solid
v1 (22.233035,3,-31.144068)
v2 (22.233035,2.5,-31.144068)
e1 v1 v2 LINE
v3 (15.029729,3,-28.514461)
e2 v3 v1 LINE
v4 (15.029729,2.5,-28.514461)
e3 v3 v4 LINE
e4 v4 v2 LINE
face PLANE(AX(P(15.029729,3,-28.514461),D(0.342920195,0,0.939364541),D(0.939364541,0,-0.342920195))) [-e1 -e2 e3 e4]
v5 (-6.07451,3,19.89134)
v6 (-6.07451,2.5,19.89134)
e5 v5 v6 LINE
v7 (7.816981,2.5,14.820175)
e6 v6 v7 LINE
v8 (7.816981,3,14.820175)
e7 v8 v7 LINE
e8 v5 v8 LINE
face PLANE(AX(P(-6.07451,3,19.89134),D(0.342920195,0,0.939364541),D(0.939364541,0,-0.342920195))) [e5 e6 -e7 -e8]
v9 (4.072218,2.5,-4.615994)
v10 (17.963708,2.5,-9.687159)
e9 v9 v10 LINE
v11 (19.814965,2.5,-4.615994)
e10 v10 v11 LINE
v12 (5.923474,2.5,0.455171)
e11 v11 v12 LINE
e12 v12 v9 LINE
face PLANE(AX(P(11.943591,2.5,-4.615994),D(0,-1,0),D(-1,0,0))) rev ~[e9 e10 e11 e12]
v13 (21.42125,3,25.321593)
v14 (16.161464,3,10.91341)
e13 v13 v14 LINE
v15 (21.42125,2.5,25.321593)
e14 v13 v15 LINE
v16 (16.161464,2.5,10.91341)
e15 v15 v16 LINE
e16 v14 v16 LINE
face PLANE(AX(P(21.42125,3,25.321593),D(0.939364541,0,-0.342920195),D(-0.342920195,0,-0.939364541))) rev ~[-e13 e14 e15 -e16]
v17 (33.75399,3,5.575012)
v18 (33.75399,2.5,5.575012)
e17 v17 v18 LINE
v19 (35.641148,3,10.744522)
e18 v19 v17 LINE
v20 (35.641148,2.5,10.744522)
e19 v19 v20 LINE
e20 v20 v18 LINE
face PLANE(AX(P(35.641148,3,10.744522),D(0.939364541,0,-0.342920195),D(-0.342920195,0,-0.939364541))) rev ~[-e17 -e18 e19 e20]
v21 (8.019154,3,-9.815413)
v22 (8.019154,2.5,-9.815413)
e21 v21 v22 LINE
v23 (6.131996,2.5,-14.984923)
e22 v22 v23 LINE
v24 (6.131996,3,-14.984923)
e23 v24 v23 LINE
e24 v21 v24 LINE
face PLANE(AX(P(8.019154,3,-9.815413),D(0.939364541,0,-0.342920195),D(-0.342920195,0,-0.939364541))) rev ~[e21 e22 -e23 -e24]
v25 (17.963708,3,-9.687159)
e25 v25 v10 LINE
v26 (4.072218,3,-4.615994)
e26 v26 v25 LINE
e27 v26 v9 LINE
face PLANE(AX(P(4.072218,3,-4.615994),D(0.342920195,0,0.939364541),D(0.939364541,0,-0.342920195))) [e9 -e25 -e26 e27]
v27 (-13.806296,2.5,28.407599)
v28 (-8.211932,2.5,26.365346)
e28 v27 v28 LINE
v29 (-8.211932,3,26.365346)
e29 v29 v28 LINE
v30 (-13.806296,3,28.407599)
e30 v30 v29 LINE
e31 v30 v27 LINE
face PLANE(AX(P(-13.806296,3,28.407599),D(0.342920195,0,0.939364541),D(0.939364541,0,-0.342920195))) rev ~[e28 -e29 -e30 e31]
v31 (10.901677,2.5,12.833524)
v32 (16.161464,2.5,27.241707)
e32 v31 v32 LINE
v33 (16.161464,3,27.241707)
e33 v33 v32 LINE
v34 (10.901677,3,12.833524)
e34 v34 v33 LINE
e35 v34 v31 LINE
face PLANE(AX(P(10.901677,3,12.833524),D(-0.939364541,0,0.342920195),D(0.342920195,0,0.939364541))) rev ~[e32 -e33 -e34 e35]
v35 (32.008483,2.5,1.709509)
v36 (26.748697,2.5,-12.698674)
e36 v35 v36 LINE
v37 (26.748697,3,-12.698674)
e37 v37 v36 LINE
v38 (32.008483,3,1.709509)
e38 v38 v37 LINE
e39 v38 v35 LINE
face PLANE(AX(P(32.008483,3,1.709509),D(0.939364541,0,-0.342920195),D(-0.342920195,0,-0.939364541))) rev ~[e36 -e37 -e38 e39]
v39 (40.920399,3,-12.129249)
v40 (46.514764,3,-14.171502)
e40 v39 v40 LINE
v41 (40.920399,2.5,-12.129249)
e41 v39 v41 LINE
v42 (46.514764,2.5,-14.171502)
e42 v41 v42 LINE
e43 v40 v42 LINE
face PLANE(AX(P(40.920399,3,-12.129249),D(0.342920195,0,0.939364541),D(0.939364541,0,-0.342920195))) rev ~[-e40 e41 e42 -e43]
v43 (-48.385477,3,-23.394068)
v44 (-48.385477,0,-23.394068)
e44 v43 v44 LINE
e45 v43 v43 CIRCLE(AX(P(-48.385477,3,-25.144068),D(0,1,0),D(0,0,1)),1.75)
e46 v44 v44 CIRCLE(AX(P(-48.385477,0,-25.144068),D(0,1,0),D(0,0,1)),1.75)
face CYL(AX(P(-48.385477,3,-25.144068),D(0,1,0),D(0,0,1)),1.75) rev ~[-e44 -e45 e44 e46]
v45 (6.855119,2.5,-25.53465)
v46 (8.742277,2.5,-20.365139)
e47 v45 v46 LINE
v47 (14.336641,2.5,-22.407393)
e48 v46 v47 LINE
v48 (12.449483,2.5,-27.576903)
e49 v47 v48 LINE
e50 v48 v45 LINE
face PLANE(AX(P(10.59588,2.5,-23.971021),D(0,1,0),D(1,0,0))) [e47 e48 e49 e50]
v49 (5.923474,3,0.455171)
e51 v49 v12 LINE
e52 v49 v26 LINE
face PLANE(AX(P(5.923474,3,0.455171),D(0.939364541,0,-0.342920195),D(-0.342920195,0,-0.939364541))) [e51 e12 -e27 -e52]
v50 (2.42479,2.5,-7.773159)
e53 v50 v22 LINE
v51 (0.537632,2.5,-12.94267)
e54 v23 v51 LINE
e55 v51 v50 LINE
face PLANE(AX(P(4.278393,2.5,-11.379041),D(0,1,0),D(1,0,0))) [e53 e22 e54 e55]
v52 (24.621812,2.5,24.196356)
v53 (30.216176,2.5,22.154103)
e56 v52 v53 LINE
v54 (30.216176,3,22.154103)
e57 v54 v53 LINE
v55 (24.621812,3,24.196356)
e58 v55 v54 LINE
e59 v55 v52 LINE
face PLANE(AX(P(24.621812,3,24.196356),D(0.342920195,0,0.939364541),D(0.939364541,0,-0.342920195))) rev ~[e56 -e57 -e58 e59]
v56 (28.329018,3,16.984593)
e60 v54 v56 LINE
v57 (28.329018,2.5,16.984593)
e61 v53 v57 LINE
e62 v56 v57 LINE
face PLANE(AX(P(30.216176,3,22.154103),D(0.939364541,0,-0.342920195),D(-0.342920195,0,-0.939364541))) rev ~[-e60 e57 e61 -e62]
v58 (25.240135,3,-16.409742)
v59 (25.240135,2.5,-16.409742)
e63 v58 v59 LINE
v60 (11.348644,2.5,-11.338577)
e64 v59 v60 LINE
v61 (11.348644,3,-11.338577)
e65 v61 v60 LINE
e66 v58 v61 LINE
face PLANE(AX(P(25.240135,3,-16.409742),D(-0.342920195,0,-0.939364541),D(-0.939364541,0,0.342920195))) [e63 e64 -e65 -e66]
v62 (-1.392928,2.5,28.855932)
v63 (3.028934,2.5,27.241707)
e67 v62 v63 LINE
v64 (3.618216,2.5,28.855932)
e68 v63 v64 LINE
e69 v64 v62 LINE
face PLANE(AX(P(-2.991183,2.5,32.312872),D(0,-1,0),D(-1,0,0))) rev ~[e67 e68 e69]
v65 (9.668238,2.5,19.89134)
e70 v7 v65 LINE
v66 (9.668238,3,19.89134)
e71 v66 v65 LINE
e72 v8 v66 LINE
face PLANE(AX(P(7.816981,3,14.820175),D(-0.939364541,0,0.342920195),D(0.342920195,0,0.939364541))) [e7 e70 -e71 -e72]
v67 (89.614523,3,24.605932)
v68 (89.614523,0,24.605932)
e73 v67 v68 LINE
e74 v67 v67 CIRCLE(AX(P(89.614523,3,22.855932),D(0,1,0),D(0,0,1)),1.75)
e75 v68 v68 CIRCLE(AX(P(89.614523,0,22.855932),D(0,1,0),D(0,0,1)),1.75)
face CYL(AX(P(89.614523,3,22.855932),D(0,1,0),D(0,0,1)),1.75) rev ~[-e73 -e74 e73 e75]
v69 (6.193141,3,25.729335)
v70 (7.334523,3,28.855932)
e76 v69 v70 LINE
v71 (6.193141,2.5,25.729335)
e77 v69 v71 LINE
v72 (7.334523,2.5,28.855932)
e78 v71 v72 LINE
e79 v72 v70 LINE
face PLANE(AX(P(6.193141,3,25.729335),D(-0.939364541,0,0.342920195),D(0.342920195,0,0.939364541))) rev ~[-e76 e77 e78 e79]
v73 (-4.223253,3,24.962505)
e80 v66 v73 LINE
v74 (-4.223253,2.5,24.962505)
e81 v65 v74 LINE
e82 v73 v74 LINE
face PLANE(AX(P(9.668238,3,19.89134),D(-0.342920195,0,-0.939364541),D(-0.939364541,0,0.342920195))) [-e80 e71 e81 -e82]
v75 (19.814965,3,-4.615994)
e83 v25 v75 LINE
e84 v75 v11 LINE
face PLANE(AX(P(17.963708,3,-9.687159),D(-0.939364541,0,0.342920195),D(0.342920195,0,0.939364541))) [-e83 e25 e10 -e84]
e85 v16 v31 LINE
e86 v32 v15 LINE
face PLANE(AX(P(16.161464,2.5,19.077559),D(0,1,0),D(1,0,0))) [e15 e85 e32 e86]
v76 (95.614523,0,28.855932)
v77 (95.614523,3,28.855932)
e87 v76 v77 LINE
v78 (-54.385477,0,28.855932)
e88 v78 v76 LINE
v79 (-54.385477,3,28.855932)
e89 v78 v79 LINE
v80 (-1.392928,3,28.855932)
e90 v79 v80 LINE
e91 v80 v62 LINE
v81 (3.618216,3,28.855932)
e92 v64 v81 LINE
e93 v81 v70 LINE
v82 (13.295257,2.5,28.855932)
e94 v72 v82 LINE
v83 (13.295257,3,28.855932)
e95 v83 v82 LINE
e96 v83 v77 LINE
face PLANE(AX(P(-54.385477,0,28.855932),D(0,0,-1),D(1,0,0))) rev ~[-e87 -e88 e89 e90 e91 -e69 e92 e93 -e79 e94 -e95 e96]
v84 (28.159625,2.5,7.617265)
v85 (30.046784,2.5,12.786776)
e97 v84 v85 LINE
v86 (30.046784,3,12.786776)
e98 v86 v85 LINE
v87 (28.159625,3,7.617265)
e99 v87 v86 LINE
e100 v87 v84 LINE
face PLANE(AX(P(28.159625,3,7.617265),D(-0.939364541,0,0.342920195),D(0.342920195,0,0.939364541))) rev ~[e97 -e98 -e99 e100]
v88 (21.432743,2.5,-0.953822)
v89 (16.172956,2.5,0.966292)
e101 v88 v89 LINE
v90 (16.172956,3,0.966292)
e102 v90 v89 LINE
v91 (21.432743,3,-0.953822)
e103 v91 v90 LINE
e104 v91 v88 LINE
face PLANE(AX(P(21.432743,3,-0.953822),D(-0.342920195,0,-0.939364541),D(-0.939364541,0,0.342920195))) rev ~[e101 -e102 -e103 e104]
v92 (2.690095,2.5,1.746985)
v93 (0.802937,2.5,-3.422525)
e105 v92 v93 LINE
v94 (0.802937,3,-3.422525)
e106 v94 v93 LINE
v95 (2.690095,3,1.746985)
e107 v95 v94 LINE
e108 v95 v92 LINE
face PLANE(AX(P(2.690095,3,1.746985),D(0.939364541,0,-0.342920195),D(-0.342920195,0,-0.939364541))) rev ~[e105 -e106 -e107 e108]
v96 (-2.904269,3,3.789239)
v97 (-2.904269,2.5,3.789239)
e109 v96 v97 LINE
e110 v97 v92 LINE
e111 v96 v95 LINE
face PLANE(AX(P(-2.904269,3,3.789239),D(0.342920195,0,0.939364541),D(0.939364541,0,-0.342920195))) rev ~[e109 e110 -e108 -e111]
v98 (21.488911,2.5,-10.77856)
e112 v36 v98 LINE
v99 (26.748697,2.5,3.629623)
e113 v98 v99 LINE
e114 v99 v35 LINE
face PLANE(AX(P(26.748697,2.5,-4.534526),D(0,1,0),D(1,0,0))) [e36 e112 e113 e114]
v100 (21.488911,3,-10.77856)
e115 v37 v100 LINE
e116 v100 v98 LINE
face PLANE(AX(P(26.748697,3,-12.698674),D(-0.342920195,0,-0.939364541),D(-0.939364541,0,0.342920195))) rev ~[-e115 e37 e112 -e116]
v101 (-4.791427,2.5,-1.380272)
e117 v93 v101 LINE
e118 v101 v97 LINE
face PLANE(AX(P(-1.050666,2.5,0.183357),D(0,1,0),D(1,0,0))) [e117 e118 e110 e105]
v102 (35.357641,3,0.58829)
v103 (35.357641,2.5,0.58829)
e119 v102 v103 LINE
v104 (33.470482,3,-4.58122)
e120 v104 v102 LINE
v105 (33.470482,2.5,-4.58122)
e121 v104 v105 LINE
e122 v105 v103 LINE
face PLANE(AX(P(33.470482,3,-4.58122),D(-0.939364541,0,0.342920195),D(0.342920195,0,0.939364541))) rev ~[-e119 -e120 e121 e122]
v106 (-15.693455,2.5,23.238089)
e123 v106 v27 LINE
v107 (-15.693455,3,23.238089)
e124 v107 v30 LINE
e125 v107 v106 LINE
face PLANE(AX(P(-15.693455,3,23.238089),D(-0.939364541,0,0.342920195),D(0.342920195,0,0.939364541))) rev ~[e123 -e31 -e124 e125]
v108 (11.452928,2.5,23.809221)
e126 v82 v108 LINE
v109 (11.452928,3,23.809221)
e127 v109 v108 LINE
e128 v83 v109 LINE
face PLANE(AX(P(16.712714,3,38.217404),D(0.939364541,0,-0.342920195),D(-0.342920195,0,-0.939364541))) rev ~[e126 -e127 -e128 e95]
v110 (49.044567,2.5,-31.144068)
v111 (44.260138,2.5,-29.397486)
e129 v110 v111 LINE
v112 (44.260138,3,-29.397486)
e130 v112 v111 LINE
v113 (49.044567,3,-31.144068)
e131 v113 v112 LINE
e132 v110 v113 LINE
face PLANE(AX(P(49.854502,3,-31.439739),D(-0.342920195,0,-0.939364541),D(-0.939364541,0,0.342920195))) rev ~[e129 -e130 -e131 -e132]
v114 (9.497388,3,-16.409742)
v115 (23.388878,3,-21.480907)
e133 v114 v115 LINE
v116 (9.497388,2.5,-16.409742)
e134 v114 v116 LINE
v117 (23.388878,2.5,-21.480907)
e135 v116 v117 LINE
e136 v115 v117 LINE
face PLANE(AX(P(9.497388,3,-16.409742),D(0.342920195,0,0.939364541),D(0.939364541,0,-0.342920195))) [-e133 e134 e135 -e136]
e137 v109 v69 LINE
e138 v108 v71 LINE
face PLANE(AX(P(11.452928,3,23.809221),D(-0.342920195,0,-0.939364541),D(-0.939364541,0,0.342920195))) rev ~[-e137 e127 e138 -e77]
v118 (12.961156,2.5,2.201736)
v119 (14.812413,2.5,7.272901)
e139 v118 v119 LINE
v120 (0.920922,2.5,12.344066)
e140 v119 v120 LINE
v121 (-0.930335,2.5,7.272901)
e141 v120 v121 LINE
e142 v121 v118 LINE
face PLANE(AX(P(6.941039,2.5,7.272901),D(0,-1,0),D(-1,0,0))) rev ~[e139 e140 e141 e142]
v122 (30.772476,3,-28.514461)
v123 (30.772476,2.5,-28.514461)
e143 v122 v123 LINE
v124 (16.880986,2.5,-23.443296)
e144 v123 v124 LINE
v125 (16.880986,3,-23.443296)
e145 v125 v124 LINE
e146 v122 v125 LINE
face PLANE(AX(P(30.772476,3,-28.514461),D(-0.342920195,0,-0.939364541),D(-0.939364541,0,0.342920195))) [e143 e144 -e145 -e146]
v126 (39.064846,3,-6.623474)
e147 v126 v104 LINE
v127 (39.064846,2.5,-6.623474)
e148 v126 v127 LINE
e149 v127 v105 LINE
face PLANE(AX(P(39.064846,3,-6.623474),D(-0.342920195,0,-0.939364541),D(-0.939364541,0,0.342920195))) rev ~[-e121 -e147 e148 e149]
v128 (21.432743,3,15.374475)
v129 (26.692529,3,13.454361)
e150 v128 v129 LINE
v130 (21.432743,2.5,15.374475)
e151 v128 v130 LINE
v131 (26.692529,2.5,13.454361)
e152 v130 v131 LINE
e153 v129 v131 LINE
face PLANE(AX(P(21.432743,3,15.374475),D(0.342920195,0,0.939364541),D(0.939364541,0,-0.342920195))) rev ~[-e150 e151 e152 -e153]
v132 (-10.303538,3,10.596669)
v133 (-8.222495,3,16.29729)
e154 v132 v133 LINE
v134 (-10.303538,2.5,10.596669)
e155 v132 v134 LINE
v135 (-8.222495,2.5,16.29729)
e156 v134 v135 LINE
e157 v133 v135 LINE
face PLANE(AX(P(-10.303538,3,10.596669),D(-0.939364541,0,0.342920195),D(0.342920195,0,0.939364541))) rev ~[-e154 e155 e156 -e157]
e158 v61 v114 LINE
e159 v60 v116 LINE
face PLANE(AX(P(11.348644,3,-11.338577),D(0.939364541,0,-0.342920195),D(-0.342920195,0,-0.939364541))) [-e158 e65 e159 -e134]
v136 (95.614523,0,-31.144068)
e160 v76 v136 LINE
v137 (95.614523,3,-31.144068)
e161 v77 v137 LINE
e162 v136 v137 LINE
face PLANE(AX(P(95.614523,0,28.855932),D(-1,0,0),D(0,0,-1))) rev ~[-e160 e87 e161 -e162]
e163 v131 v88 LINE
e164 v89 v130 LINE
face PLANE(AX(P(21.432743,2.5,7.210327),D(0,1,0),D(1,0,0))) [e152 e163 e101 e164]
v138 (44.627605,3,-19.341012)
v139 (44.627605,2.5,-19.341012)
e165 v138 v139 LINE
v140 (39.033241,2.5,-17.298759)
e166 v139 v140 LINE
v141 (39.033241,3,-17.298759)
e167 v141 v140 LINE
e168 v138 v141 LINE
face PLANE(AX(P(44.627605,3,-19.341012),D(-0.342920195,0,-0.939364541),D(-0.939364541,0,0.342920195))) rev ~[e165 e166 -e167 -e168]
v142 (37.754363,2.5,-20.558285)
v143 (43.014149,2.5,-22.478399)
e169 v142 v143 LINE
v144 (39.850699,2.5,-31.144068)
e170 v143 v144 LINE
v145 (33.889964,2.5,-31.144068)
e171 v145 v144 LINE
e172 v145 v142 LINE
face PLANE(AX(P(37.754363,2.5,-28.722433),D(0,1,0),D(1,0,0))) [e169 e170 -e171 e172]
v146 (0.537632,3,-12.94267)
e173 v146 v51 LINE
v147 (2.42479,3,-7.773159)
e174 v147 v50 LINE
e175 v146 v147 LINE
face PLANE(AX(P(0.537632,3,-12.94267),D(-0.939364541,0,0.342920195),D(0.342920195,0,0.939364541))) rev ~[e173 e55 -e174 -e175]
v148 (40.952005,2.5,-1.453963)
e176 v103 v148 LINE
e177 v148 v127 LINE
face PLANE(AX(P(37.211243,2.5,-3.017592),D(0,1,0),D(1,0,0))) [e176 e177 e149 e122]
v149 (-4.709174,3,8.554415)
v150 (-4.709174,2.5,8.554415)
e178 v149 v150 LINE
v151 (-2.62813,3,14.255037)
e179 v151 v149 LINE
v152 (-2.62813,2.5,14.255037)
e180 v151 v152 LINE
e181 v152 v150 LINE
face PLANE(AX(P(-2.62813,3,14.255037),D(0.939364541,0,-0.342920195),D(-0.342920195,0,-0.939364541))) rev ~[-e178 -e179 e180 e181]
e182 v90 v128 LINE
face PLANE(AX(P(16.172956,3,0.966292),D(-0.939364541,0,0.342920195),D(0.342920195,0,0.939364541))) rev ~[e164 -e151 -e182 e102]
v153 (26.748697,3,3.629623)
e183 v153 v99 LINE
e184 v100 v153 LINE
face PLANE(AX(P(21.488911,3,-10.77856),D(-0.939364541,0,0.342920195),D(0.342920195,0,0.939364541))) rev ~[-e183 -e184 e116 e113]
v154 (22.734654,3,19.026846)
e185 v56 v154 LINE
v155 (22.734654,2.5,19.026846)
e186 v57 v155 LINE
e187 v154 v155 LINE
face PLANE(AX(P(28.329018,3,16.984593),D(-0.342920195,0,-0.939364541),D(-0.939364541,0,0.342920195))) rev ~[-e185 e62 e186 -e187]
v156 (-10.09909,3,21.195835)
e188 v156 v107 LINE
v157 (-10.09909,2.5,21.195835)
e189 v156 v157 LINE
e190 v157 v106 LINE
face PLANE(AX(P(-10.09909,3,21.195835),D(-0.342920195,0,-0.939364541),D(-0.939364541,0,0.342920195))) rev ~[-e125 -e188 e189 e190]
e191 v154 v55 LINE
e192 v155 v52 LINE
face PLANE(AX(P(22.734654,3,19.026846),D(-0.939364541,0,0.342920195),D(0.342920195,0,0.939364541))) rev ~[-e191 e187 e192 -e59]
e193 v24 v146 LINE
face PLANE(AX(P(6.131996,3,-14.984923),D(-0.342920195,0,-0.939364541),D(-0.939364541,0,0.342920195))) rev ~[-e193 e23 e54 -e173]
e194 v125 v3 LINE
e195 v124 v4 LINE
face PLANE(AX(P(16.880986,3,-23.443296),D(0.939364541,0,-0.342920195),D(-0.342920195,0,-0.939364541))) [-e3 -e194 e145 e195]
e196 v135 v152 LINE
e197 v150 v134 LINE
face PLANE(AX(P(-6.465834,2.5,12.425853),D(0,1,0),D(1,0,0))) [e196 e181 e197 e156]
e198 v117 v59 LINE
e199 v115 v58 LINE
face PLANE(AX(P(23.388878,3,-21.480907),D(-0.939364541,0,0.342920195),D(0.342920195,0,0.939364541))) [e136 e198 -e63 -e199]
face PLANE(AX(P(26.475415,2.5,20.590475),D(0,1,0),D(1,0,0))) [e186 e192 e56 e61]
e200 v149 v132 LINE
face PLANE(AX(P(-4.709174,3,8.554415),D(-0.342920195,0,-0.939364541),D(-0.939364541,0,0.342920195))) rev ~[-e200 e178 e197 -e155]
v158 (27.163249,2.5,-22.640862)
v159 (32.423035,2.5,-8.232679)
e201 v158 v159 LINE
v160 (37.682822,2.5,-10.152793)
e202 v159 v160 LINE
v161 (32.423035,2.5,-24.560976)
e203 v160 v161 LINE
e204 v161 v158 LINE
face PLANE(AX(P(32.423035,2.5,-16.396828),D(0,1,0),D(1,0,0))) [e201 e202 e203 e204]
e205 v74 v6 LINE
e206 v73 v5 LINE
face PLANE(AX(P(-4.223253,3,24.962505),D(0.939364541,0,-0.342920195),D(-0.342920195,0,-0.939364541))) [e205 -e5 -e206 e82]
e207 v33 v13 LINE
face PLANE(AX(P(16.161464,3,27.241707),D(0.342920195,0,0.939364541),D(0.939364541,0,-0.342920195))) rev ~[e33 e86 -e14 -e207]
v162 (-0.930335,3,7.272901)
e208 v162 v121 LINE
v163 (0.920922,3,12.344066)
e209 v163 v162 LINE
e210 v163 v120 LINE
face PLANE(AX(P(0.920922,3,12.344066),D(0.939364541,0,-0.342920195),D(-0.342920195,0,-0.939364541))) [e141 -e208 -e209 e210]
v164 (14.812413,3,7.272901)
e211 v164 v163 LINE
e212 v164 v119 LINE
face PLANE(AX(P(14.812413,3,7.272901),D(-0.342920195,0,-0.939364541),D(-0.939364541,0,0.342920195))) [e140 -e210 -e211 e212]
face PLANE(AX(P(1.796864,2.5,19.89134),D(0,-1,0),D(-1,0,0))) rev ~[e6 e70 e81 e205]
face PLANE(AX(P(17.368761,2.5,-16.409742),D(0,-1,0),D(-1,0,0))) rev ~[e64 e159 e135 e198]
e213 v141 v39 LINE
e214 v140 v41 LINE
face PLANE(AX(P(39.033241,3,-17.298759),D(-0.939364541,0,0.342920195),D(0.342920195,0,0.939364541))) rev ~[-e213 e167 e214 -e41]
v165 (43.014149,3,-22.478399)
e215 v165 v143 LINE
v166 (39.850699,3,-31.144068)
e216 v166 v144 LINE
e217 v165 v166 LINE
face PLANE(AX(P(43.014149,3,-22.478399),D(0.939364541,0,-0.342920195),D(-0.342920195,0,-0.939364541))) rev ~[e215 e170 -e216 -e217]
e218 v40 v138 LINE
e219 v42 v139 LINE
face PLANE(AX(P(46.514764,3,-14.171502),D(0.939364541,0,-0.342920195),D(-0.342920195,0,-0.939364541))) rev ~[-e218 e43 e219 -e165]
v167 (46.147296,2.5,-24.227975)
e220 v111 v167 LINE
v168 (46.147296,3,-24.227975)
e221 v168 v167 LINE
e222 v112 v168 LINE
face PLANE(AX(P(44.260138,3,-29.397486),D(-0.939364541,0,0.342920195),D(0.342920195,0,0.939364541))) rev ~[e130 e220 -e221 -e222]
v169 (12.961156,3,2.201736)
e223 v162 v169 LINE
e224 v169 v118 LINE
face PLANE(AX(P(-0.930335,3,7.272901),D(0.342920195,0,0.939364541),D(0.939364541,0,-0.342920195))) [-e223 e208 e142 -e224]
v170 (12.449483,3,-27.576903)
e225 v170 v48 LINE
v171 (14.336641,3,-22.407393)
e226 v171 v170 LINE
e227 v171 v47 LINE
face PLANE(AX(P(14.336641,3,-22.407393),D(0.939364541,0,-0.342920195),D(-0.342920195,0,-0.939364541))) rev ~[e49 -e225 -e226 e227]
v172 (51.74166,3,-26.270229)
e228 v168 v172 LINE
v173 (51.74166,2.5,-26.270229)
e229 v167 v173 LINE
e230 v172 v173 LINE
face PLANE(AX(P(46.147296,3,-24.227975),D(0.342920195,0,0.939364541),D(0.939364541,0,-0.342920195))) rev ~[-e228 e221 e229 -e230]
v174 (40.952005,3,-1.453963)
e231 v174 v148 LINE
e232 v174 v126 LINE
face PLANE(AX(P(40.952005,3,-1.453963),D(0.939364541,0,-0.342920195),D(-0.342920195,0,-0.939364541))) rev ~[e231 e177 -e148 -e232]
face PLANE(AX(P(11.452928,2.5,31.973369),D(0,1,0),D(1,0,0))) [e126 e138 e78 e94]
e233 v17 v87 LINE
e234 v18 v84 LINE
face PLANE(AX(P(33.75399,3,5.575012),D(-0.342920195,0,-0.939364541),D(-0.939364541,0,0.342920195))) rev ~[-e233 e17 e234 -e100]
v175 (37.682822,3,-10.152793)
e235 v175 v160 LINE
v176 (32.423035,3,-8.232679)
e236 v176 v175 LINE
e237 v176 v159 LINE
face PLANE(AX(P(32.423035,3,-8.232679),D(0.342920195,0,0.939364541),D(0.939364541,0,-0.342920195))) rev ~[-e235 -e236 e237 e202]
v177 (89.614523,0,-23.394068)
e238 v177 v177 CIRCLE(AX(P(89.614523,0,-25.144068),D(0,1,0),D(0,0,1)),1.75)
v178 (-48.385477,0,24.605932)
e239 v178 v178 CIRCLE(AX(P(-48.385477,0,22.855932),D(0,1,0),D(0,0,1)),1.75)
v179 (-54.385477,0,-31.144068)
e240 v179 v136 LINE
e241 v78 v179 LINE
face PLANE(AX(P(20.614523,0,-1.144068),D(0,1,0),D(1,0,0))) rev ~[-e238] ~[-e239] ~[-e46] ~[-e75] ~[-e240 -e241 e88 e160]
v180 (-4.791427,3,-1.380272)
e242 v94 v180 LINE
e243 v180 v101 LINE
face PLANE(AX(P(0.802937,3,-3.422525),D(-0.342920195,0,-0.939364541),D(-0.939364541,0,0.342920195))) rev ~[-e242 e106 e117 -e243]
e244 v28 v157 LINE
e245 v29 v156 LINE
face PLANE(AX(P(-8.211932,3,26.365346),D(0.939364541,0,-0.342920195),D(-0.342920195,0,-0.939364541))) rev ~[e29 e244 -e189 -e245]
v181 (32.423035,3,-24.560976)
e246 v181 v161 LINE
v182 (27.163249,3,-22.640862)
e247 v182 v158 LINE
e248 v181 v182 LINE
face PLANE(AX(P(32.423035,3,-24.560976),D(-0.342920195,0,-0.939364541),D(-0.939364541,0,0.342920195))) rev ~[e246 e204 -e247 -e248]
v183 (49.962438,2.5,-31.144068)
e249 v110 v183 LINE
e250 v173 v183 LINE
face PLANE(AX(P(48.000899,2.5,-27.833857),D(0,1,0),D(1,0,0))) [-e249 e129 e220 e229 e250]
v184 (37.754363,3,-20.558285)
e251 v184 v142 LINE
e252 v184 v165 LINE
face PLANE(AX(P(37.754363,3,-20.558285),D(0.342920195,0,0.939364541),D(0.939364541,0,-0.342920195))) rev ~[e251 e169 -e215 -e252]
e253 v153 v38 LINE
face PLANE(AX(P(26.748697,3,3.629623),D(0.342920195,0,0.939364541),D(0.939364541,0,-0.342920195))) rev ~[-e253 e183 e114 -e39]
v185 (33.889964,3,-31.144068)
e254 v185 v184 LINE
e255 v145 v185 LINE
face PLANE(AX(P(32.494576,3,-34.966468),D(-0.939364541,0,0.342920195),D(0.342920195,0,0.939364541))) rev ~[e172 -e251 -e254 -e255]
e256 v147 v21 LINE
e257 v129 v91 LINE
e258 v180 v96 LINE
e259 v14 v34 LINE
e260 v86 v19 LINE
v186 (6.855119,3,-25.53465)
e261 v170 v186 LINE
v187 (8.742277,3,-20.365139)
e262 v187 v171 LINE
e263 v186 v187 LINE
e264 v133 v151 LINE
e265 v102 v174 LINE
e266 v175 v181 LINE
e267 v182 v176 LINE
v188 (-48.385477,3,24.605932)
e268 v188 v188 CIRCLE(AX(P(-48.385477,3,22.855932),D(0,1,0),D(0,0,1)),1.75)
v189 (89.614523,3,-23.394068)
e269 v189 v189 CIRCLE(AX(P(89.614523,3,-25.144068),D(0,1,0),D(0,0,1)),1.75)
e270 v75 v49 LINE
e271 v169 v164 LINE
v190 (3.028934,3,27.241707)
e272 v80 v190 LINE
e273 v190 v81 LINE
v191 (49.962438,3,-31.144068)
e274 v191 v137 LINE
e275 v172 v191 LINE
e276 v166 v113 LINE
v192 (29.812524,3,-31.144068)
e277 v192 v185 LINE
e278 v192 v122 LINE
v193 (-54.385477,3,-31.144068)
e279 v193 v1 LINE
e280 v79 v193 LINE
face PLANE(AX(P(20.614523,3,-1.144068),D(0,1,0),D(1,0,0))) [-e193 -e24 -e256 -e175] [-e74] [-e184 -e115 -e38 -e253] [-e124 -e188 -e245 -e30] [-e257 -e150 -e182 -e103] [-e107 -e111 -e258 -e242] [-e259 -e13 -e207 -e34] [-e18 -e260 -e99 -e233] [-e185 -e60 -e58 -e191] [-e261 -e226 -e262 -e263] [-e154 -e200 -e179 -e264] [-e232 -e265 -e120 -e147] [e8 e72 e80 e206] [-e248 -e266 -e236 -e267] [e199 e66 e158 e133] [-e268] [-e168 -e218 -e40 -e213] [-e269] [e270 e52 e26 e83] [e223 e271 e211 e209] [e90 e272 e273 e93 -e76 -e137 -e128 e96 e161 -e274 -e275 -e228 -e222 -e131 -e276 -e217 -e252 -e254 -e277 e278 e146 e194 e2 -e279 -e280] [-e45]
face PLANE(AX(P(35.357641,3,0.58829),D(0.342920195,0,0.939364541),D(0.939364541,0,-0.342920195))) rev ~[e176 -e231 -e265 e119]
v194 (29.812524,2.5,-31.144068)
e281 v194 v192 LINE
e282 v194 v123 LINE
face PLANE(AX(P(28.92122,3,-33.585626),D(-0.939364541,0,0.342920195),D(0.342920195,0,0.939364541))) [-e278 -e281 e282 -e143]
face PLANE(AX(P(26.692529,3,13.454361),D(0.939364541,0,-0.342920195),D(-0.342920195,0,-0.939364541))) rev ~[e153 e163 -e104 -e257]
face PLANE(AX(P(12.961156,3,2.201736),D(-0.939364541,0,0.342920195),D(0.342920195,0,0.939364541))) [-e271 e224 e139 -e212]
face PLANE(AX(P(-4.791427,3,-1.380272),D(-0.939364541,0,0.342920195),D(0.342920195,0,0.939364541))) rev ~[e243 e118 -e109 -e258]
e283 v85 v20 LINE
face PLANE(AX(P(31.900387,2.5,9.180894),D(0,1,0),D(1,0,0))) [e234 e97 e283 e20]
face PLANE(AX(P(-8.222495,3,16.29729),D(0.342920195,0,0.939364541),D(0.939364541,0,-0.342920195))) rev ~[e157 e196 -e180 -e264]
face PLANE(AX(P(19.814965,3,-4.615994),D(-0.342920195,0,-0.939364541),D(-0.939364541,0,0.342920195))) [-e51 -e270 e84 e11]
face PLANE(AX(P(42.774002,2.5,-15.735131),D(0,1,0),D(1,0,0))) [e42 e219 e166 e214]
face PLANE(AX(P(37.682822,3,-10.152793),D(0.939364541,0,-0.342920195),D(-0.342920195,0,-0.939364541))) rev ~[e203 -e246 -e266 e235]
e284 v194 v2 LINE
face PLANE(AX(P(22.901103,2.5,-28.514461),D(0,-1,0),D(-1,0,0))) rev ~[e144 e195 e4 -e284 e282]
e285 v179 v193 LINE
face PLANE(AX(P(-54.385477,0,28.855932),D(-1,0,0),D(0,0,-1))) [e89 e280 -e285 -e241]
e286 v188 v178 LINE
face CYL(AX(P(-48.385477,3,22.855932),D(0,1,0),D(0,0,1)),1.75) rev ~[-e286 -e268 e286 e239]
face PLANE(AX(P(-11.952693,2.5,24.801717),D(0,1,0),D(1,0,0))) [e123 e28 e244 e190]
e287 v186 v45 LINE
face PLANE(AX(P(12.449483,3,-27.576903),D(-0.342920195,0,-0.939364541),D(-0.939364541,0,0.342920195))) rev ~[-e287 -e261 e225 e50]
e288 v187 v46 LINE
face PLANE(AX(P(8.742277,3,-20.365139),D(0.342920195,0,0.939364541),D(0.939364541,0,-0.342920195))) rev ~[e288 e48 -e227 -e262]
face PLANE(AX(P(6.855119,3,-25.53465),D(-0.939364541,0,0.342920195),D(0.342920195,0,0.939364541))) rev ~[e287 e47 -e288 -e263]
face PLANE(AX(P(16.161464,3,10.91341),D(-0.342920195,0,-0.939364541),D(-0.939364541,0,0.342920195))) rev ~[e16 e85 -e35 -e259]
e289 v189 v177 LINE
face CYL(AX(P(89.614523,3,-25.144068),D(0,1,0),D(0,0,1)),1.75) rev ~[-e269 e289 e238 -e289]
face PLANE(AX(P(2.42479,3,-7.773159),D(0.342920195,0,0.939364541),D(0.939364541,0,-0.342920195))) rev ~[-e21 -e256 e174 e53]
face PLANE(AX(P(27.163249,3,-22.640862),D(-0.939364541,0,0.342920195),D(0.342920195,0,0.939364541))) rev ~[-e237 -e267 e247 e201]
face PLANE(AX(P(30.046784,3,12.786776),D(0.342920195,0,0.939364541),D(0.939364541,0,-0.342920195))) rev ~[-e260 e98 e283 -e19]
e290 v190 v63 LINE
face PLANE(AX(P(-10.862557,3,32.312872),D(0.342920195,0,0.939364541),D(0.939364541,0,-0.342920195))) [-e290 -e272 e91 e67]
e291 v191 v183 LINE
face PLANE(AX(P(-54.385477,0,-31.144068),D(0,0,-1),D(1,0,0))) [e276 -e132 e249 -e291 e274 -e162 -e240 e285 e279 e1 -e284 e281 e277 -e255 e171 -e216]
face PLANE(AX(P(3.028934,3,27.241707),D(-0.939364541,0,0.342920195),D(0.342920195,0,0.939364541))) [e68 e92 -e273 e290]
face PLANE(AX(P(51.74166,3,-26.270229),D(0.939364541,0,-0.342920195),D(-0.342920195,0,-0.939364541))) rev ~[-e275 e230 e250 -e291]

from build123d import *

# Parameters (mm, degrees)
SKETCH1_W           = 150
SKETCH1_H           = 60
BOSS_EXTRUDE1_DEPTH = 3
CUT_EXTRUDE1_REACH  = 102.604
SKETCH2_R           = 1.75
CUT_EXTRUDE2_DEPTH  = 0.5


with BuildPart() as part:
    # Sketch1 → Boss-Extrude1 (new body)
    with BuildSketch(Plane(origin=(0, 0, 0), x_dir=(1, 0, 0), z_dir=(0, 1, 0))):
        with Locations((20.614523463, 1.144067797)):
            Rectangle(SKETCH1_W, SKETCH1_H)
    extrude(amount=BOSS_EXTRUDE1_DEPTH)

    # Sketch2 → Cut-Extrude1 (cut, up to next)
    with BuildSketch(Plane(origin=(0, 3, 0), x_dir=(1, 0, 0), z_dir=(0, 1, 0)), mode=Mode.PRIVATE) as cut_extrude1_sk1:
        with Locations(Location((-48.385476537, 25.144067797, 0), (0, 0, 270))):
            Circle(SKETCH2_R)
    cut_extrude1_tool1 = extrude(cut_extrude1_sk1.sketch, amount=-CUT_EXTRUDE1_REACH, mode=Mode.PRIVATE) & part.part
    # Sketch2 → Cut-Extrude1 (cut, up to next)
    with BuildSketch(Plane(origin=(0, 3, 0), x_dir=(1, 0, 0), z_dir=(0, 1, 0)), mode=Mode.PRIVATE) as cut_extrude1_sk2:
        with Locations(Location((-48.385476537, -22.855932203, 0), (0, 0, 270))):
            Circle(SKETCH2_R)
    cut_extrude1_tool2 = extrude(cut_extrude1_sk2.sketch, amount=-CUT_EXTRUDE1_REACH, mode=Mode.PRIVATE) & part.part
    # Sketch2 → Cut-Extrude1 (cut, up to next)
    with BuildSketch(Plane(origin=(0, 3, 0), x_dir=(1, 0, 0), z_dir=(0, 1, 0)), mode=Mode.PRIVATE) as cut_extrude1_sk3:
        with Locations(Location((89.614523463, -22.855932203, 0), (0, 0, 270))):
            Circle(SKETCH2_R)
    cut_extrude1_tool3 = extrude(cut_extrude1_sk3.sketch, amount=-CUT_EXTRUDE1_REACH, mode=Mode.PRIVATE) & part.part
    # Sketch2 → Cut-Extrude1 (cut, up to next)
    with BuildSketch(Plane(origin=(0, 3, 0), x_dir=(1, 0, 0), z_dir=(0, 1, 0)), mode=Mode.PRIVATE) as cut_extrude1_sk4:
        with Locations(Location((89.614523463, 25.144067797, 0), (0, 0, 270))):
            Circle(SKETCH2_R)
    cut_extrude1_tool4 = extrude(cut_extrude1_sk4.sketch, amount=-CUT_EXTRUDE1_REACH, mode=Mode.PRIVATE) & part.part
    add(cut_extrude1_tool1.solids().sort_by_distance((-48.385477, 3, -25.144068))[0], mode=Mode.SUBTRACT)
    add(cut_extrude1_tool2.solids().sort_by_distance((-48.385477, 3, 22.855932))[0], mode=Mode.SUBTRACT)
    add(cut_extrude1_tool3.solids().sort_by_distance((89.614523, 3, 22.855932))[0], mode=Mode.SUBTRACT)
    add(cut_extrude1_tool4.solids().sort_by_distance((89.614523, 3, -25.144068))[0], mode=Mode.SUBTRACT)

    # Sketch4 → Cut-Extrude2 (cut)
    with BuildSketch(Plane(origin=(0, 3, 0), x_dir=(1, 0, 0), z_dir=(0, 1, 0))):
        Polygon((-4.791426937, 1.38027169), (-2.904268689, -3.78923879), (2.69009548, -1.746985365), (0.802937232, 3.422525114), align=None)
        Polygon((4.072217559, 4.615993888), (17.963708333, 9.687159037), (19.814965077, 4.615993888), (5.923474302, -0.455171261), align=None)
        Polygon((0.537631953, 12.942669892), (2.424790201, 7.773159413), (8.01915437, 9.815412837), (6.131996122, 14.984923317), align=None)
        Polygon((6.855118637, 25.534649861), (8.742276884, 20.365139381), (14.336641053, 22.407392806), (12.449482806, 27.576903285), align=None)
        Polygon((-10.303537871, -10.596668593), (-8.222494664, -16.297289982), (-2.628130495, -14.255036558), (-4.709173702, -8.554415169), align=None)
        Polygon((22.734653732, -19.026845993), (24.621811979, -24.196356472), (30.216176149, -22.154103048), (28.329017901, -16.984592568), align=None)
        Polygon((28.15962548, -7.617265398), (30.046783727, -12.786775877), (35.641147896, -10.744522452), (33.753989649, -5.575011973), align=None)
        Polygon((33.470482261, 4.581220115), (35.357640508, -0.588290364), (40.952004677, 1.453963061), (39.06484643, 6.62347354), align=None)
        Polygon((39.033241178, 17.298759053), (40.920399425, 12.129248573), (46.514763594, 14.171501998), (44.627605347, 19.341012477), align=None)
        Polygon((44.260137656, 29.397485637), (46.147295903, 24.227975157), (51.741660072, 26.270228582), (49.854501825, 31.439739061), align=None)
        Polygon((-15.693454614, -23.238088767), (-13.806296367, -28.407599247), (-8.211932198, -26.365345822), (-10.099090445, -21.195835343), align=None)
        Polygon((-0.93033458, -7.272900817), (12.961156194, -2.201735668), (14.812412937, -7.272900817), (0.920922163, -12.344065966), align=None)
        Polygon((-6.074509675, -19.891339922), (7.816981099, -14.820174773), (9.668237843, -19.891339922), (-4.223252932, -24.962505072), align=None)
        Polygon((9.497387621, 16.409742117), (23.388878396, 21.480907266), (25.240135139, 16.409742117), (11.348644365, 11.338576968), align=None)
        Polygon((15.029728795, 28.514461172), (28.921219569, 33.585626321), (30.772476312, 28.514461172), (16.880985538, 23.443296023), align=None)
        Polygon((-10.862556564, -32.312872197), (3.028934211, -27.241707048), (4.880190954, -32.312872197), (-9.011299821, -37.384037346), align=None)
        Polygon((16.161463862, -27.241707048), (21.421250331, -25.321593054), (16.161463862, -10.913410108), (10.901677392, -12.833524103), align=None)
        Polygon((11.452927675, -40.137517662), (16.712714145, -38.217403668), (11.452927675, -23.809220723), (6.193141206, -25.729334717), align=None)
        Polygon((21.432742799, -15.374475147), (26.692529268, -13.454361153), (21.432742799, 0.953821792), (16.172956329, -0.966292202), align=None)
        Polygon((26.748696994, -3.629622604), (32.008483463, -1.70950861), (26.748696994, 12.698674336), (21.488910524, 10.778560341), align=None)
        Polygon((32.423035231, 8.232679073), (37.6828217, 10.152793068), (32.423035231, 24.560976013), (27.163248761, 22.640862019), align=None)
        Polygon((37.754362659, 20.558284805), (43.014149128, 22.4783988), (37.754362659, 36.886581745), (32.494576189, 34.966467751), align=None)
    extrude(amount=-CUT_EXTRUDE2_DEPTH, mode=Mode.SUBTRACT)


solid = part.part
